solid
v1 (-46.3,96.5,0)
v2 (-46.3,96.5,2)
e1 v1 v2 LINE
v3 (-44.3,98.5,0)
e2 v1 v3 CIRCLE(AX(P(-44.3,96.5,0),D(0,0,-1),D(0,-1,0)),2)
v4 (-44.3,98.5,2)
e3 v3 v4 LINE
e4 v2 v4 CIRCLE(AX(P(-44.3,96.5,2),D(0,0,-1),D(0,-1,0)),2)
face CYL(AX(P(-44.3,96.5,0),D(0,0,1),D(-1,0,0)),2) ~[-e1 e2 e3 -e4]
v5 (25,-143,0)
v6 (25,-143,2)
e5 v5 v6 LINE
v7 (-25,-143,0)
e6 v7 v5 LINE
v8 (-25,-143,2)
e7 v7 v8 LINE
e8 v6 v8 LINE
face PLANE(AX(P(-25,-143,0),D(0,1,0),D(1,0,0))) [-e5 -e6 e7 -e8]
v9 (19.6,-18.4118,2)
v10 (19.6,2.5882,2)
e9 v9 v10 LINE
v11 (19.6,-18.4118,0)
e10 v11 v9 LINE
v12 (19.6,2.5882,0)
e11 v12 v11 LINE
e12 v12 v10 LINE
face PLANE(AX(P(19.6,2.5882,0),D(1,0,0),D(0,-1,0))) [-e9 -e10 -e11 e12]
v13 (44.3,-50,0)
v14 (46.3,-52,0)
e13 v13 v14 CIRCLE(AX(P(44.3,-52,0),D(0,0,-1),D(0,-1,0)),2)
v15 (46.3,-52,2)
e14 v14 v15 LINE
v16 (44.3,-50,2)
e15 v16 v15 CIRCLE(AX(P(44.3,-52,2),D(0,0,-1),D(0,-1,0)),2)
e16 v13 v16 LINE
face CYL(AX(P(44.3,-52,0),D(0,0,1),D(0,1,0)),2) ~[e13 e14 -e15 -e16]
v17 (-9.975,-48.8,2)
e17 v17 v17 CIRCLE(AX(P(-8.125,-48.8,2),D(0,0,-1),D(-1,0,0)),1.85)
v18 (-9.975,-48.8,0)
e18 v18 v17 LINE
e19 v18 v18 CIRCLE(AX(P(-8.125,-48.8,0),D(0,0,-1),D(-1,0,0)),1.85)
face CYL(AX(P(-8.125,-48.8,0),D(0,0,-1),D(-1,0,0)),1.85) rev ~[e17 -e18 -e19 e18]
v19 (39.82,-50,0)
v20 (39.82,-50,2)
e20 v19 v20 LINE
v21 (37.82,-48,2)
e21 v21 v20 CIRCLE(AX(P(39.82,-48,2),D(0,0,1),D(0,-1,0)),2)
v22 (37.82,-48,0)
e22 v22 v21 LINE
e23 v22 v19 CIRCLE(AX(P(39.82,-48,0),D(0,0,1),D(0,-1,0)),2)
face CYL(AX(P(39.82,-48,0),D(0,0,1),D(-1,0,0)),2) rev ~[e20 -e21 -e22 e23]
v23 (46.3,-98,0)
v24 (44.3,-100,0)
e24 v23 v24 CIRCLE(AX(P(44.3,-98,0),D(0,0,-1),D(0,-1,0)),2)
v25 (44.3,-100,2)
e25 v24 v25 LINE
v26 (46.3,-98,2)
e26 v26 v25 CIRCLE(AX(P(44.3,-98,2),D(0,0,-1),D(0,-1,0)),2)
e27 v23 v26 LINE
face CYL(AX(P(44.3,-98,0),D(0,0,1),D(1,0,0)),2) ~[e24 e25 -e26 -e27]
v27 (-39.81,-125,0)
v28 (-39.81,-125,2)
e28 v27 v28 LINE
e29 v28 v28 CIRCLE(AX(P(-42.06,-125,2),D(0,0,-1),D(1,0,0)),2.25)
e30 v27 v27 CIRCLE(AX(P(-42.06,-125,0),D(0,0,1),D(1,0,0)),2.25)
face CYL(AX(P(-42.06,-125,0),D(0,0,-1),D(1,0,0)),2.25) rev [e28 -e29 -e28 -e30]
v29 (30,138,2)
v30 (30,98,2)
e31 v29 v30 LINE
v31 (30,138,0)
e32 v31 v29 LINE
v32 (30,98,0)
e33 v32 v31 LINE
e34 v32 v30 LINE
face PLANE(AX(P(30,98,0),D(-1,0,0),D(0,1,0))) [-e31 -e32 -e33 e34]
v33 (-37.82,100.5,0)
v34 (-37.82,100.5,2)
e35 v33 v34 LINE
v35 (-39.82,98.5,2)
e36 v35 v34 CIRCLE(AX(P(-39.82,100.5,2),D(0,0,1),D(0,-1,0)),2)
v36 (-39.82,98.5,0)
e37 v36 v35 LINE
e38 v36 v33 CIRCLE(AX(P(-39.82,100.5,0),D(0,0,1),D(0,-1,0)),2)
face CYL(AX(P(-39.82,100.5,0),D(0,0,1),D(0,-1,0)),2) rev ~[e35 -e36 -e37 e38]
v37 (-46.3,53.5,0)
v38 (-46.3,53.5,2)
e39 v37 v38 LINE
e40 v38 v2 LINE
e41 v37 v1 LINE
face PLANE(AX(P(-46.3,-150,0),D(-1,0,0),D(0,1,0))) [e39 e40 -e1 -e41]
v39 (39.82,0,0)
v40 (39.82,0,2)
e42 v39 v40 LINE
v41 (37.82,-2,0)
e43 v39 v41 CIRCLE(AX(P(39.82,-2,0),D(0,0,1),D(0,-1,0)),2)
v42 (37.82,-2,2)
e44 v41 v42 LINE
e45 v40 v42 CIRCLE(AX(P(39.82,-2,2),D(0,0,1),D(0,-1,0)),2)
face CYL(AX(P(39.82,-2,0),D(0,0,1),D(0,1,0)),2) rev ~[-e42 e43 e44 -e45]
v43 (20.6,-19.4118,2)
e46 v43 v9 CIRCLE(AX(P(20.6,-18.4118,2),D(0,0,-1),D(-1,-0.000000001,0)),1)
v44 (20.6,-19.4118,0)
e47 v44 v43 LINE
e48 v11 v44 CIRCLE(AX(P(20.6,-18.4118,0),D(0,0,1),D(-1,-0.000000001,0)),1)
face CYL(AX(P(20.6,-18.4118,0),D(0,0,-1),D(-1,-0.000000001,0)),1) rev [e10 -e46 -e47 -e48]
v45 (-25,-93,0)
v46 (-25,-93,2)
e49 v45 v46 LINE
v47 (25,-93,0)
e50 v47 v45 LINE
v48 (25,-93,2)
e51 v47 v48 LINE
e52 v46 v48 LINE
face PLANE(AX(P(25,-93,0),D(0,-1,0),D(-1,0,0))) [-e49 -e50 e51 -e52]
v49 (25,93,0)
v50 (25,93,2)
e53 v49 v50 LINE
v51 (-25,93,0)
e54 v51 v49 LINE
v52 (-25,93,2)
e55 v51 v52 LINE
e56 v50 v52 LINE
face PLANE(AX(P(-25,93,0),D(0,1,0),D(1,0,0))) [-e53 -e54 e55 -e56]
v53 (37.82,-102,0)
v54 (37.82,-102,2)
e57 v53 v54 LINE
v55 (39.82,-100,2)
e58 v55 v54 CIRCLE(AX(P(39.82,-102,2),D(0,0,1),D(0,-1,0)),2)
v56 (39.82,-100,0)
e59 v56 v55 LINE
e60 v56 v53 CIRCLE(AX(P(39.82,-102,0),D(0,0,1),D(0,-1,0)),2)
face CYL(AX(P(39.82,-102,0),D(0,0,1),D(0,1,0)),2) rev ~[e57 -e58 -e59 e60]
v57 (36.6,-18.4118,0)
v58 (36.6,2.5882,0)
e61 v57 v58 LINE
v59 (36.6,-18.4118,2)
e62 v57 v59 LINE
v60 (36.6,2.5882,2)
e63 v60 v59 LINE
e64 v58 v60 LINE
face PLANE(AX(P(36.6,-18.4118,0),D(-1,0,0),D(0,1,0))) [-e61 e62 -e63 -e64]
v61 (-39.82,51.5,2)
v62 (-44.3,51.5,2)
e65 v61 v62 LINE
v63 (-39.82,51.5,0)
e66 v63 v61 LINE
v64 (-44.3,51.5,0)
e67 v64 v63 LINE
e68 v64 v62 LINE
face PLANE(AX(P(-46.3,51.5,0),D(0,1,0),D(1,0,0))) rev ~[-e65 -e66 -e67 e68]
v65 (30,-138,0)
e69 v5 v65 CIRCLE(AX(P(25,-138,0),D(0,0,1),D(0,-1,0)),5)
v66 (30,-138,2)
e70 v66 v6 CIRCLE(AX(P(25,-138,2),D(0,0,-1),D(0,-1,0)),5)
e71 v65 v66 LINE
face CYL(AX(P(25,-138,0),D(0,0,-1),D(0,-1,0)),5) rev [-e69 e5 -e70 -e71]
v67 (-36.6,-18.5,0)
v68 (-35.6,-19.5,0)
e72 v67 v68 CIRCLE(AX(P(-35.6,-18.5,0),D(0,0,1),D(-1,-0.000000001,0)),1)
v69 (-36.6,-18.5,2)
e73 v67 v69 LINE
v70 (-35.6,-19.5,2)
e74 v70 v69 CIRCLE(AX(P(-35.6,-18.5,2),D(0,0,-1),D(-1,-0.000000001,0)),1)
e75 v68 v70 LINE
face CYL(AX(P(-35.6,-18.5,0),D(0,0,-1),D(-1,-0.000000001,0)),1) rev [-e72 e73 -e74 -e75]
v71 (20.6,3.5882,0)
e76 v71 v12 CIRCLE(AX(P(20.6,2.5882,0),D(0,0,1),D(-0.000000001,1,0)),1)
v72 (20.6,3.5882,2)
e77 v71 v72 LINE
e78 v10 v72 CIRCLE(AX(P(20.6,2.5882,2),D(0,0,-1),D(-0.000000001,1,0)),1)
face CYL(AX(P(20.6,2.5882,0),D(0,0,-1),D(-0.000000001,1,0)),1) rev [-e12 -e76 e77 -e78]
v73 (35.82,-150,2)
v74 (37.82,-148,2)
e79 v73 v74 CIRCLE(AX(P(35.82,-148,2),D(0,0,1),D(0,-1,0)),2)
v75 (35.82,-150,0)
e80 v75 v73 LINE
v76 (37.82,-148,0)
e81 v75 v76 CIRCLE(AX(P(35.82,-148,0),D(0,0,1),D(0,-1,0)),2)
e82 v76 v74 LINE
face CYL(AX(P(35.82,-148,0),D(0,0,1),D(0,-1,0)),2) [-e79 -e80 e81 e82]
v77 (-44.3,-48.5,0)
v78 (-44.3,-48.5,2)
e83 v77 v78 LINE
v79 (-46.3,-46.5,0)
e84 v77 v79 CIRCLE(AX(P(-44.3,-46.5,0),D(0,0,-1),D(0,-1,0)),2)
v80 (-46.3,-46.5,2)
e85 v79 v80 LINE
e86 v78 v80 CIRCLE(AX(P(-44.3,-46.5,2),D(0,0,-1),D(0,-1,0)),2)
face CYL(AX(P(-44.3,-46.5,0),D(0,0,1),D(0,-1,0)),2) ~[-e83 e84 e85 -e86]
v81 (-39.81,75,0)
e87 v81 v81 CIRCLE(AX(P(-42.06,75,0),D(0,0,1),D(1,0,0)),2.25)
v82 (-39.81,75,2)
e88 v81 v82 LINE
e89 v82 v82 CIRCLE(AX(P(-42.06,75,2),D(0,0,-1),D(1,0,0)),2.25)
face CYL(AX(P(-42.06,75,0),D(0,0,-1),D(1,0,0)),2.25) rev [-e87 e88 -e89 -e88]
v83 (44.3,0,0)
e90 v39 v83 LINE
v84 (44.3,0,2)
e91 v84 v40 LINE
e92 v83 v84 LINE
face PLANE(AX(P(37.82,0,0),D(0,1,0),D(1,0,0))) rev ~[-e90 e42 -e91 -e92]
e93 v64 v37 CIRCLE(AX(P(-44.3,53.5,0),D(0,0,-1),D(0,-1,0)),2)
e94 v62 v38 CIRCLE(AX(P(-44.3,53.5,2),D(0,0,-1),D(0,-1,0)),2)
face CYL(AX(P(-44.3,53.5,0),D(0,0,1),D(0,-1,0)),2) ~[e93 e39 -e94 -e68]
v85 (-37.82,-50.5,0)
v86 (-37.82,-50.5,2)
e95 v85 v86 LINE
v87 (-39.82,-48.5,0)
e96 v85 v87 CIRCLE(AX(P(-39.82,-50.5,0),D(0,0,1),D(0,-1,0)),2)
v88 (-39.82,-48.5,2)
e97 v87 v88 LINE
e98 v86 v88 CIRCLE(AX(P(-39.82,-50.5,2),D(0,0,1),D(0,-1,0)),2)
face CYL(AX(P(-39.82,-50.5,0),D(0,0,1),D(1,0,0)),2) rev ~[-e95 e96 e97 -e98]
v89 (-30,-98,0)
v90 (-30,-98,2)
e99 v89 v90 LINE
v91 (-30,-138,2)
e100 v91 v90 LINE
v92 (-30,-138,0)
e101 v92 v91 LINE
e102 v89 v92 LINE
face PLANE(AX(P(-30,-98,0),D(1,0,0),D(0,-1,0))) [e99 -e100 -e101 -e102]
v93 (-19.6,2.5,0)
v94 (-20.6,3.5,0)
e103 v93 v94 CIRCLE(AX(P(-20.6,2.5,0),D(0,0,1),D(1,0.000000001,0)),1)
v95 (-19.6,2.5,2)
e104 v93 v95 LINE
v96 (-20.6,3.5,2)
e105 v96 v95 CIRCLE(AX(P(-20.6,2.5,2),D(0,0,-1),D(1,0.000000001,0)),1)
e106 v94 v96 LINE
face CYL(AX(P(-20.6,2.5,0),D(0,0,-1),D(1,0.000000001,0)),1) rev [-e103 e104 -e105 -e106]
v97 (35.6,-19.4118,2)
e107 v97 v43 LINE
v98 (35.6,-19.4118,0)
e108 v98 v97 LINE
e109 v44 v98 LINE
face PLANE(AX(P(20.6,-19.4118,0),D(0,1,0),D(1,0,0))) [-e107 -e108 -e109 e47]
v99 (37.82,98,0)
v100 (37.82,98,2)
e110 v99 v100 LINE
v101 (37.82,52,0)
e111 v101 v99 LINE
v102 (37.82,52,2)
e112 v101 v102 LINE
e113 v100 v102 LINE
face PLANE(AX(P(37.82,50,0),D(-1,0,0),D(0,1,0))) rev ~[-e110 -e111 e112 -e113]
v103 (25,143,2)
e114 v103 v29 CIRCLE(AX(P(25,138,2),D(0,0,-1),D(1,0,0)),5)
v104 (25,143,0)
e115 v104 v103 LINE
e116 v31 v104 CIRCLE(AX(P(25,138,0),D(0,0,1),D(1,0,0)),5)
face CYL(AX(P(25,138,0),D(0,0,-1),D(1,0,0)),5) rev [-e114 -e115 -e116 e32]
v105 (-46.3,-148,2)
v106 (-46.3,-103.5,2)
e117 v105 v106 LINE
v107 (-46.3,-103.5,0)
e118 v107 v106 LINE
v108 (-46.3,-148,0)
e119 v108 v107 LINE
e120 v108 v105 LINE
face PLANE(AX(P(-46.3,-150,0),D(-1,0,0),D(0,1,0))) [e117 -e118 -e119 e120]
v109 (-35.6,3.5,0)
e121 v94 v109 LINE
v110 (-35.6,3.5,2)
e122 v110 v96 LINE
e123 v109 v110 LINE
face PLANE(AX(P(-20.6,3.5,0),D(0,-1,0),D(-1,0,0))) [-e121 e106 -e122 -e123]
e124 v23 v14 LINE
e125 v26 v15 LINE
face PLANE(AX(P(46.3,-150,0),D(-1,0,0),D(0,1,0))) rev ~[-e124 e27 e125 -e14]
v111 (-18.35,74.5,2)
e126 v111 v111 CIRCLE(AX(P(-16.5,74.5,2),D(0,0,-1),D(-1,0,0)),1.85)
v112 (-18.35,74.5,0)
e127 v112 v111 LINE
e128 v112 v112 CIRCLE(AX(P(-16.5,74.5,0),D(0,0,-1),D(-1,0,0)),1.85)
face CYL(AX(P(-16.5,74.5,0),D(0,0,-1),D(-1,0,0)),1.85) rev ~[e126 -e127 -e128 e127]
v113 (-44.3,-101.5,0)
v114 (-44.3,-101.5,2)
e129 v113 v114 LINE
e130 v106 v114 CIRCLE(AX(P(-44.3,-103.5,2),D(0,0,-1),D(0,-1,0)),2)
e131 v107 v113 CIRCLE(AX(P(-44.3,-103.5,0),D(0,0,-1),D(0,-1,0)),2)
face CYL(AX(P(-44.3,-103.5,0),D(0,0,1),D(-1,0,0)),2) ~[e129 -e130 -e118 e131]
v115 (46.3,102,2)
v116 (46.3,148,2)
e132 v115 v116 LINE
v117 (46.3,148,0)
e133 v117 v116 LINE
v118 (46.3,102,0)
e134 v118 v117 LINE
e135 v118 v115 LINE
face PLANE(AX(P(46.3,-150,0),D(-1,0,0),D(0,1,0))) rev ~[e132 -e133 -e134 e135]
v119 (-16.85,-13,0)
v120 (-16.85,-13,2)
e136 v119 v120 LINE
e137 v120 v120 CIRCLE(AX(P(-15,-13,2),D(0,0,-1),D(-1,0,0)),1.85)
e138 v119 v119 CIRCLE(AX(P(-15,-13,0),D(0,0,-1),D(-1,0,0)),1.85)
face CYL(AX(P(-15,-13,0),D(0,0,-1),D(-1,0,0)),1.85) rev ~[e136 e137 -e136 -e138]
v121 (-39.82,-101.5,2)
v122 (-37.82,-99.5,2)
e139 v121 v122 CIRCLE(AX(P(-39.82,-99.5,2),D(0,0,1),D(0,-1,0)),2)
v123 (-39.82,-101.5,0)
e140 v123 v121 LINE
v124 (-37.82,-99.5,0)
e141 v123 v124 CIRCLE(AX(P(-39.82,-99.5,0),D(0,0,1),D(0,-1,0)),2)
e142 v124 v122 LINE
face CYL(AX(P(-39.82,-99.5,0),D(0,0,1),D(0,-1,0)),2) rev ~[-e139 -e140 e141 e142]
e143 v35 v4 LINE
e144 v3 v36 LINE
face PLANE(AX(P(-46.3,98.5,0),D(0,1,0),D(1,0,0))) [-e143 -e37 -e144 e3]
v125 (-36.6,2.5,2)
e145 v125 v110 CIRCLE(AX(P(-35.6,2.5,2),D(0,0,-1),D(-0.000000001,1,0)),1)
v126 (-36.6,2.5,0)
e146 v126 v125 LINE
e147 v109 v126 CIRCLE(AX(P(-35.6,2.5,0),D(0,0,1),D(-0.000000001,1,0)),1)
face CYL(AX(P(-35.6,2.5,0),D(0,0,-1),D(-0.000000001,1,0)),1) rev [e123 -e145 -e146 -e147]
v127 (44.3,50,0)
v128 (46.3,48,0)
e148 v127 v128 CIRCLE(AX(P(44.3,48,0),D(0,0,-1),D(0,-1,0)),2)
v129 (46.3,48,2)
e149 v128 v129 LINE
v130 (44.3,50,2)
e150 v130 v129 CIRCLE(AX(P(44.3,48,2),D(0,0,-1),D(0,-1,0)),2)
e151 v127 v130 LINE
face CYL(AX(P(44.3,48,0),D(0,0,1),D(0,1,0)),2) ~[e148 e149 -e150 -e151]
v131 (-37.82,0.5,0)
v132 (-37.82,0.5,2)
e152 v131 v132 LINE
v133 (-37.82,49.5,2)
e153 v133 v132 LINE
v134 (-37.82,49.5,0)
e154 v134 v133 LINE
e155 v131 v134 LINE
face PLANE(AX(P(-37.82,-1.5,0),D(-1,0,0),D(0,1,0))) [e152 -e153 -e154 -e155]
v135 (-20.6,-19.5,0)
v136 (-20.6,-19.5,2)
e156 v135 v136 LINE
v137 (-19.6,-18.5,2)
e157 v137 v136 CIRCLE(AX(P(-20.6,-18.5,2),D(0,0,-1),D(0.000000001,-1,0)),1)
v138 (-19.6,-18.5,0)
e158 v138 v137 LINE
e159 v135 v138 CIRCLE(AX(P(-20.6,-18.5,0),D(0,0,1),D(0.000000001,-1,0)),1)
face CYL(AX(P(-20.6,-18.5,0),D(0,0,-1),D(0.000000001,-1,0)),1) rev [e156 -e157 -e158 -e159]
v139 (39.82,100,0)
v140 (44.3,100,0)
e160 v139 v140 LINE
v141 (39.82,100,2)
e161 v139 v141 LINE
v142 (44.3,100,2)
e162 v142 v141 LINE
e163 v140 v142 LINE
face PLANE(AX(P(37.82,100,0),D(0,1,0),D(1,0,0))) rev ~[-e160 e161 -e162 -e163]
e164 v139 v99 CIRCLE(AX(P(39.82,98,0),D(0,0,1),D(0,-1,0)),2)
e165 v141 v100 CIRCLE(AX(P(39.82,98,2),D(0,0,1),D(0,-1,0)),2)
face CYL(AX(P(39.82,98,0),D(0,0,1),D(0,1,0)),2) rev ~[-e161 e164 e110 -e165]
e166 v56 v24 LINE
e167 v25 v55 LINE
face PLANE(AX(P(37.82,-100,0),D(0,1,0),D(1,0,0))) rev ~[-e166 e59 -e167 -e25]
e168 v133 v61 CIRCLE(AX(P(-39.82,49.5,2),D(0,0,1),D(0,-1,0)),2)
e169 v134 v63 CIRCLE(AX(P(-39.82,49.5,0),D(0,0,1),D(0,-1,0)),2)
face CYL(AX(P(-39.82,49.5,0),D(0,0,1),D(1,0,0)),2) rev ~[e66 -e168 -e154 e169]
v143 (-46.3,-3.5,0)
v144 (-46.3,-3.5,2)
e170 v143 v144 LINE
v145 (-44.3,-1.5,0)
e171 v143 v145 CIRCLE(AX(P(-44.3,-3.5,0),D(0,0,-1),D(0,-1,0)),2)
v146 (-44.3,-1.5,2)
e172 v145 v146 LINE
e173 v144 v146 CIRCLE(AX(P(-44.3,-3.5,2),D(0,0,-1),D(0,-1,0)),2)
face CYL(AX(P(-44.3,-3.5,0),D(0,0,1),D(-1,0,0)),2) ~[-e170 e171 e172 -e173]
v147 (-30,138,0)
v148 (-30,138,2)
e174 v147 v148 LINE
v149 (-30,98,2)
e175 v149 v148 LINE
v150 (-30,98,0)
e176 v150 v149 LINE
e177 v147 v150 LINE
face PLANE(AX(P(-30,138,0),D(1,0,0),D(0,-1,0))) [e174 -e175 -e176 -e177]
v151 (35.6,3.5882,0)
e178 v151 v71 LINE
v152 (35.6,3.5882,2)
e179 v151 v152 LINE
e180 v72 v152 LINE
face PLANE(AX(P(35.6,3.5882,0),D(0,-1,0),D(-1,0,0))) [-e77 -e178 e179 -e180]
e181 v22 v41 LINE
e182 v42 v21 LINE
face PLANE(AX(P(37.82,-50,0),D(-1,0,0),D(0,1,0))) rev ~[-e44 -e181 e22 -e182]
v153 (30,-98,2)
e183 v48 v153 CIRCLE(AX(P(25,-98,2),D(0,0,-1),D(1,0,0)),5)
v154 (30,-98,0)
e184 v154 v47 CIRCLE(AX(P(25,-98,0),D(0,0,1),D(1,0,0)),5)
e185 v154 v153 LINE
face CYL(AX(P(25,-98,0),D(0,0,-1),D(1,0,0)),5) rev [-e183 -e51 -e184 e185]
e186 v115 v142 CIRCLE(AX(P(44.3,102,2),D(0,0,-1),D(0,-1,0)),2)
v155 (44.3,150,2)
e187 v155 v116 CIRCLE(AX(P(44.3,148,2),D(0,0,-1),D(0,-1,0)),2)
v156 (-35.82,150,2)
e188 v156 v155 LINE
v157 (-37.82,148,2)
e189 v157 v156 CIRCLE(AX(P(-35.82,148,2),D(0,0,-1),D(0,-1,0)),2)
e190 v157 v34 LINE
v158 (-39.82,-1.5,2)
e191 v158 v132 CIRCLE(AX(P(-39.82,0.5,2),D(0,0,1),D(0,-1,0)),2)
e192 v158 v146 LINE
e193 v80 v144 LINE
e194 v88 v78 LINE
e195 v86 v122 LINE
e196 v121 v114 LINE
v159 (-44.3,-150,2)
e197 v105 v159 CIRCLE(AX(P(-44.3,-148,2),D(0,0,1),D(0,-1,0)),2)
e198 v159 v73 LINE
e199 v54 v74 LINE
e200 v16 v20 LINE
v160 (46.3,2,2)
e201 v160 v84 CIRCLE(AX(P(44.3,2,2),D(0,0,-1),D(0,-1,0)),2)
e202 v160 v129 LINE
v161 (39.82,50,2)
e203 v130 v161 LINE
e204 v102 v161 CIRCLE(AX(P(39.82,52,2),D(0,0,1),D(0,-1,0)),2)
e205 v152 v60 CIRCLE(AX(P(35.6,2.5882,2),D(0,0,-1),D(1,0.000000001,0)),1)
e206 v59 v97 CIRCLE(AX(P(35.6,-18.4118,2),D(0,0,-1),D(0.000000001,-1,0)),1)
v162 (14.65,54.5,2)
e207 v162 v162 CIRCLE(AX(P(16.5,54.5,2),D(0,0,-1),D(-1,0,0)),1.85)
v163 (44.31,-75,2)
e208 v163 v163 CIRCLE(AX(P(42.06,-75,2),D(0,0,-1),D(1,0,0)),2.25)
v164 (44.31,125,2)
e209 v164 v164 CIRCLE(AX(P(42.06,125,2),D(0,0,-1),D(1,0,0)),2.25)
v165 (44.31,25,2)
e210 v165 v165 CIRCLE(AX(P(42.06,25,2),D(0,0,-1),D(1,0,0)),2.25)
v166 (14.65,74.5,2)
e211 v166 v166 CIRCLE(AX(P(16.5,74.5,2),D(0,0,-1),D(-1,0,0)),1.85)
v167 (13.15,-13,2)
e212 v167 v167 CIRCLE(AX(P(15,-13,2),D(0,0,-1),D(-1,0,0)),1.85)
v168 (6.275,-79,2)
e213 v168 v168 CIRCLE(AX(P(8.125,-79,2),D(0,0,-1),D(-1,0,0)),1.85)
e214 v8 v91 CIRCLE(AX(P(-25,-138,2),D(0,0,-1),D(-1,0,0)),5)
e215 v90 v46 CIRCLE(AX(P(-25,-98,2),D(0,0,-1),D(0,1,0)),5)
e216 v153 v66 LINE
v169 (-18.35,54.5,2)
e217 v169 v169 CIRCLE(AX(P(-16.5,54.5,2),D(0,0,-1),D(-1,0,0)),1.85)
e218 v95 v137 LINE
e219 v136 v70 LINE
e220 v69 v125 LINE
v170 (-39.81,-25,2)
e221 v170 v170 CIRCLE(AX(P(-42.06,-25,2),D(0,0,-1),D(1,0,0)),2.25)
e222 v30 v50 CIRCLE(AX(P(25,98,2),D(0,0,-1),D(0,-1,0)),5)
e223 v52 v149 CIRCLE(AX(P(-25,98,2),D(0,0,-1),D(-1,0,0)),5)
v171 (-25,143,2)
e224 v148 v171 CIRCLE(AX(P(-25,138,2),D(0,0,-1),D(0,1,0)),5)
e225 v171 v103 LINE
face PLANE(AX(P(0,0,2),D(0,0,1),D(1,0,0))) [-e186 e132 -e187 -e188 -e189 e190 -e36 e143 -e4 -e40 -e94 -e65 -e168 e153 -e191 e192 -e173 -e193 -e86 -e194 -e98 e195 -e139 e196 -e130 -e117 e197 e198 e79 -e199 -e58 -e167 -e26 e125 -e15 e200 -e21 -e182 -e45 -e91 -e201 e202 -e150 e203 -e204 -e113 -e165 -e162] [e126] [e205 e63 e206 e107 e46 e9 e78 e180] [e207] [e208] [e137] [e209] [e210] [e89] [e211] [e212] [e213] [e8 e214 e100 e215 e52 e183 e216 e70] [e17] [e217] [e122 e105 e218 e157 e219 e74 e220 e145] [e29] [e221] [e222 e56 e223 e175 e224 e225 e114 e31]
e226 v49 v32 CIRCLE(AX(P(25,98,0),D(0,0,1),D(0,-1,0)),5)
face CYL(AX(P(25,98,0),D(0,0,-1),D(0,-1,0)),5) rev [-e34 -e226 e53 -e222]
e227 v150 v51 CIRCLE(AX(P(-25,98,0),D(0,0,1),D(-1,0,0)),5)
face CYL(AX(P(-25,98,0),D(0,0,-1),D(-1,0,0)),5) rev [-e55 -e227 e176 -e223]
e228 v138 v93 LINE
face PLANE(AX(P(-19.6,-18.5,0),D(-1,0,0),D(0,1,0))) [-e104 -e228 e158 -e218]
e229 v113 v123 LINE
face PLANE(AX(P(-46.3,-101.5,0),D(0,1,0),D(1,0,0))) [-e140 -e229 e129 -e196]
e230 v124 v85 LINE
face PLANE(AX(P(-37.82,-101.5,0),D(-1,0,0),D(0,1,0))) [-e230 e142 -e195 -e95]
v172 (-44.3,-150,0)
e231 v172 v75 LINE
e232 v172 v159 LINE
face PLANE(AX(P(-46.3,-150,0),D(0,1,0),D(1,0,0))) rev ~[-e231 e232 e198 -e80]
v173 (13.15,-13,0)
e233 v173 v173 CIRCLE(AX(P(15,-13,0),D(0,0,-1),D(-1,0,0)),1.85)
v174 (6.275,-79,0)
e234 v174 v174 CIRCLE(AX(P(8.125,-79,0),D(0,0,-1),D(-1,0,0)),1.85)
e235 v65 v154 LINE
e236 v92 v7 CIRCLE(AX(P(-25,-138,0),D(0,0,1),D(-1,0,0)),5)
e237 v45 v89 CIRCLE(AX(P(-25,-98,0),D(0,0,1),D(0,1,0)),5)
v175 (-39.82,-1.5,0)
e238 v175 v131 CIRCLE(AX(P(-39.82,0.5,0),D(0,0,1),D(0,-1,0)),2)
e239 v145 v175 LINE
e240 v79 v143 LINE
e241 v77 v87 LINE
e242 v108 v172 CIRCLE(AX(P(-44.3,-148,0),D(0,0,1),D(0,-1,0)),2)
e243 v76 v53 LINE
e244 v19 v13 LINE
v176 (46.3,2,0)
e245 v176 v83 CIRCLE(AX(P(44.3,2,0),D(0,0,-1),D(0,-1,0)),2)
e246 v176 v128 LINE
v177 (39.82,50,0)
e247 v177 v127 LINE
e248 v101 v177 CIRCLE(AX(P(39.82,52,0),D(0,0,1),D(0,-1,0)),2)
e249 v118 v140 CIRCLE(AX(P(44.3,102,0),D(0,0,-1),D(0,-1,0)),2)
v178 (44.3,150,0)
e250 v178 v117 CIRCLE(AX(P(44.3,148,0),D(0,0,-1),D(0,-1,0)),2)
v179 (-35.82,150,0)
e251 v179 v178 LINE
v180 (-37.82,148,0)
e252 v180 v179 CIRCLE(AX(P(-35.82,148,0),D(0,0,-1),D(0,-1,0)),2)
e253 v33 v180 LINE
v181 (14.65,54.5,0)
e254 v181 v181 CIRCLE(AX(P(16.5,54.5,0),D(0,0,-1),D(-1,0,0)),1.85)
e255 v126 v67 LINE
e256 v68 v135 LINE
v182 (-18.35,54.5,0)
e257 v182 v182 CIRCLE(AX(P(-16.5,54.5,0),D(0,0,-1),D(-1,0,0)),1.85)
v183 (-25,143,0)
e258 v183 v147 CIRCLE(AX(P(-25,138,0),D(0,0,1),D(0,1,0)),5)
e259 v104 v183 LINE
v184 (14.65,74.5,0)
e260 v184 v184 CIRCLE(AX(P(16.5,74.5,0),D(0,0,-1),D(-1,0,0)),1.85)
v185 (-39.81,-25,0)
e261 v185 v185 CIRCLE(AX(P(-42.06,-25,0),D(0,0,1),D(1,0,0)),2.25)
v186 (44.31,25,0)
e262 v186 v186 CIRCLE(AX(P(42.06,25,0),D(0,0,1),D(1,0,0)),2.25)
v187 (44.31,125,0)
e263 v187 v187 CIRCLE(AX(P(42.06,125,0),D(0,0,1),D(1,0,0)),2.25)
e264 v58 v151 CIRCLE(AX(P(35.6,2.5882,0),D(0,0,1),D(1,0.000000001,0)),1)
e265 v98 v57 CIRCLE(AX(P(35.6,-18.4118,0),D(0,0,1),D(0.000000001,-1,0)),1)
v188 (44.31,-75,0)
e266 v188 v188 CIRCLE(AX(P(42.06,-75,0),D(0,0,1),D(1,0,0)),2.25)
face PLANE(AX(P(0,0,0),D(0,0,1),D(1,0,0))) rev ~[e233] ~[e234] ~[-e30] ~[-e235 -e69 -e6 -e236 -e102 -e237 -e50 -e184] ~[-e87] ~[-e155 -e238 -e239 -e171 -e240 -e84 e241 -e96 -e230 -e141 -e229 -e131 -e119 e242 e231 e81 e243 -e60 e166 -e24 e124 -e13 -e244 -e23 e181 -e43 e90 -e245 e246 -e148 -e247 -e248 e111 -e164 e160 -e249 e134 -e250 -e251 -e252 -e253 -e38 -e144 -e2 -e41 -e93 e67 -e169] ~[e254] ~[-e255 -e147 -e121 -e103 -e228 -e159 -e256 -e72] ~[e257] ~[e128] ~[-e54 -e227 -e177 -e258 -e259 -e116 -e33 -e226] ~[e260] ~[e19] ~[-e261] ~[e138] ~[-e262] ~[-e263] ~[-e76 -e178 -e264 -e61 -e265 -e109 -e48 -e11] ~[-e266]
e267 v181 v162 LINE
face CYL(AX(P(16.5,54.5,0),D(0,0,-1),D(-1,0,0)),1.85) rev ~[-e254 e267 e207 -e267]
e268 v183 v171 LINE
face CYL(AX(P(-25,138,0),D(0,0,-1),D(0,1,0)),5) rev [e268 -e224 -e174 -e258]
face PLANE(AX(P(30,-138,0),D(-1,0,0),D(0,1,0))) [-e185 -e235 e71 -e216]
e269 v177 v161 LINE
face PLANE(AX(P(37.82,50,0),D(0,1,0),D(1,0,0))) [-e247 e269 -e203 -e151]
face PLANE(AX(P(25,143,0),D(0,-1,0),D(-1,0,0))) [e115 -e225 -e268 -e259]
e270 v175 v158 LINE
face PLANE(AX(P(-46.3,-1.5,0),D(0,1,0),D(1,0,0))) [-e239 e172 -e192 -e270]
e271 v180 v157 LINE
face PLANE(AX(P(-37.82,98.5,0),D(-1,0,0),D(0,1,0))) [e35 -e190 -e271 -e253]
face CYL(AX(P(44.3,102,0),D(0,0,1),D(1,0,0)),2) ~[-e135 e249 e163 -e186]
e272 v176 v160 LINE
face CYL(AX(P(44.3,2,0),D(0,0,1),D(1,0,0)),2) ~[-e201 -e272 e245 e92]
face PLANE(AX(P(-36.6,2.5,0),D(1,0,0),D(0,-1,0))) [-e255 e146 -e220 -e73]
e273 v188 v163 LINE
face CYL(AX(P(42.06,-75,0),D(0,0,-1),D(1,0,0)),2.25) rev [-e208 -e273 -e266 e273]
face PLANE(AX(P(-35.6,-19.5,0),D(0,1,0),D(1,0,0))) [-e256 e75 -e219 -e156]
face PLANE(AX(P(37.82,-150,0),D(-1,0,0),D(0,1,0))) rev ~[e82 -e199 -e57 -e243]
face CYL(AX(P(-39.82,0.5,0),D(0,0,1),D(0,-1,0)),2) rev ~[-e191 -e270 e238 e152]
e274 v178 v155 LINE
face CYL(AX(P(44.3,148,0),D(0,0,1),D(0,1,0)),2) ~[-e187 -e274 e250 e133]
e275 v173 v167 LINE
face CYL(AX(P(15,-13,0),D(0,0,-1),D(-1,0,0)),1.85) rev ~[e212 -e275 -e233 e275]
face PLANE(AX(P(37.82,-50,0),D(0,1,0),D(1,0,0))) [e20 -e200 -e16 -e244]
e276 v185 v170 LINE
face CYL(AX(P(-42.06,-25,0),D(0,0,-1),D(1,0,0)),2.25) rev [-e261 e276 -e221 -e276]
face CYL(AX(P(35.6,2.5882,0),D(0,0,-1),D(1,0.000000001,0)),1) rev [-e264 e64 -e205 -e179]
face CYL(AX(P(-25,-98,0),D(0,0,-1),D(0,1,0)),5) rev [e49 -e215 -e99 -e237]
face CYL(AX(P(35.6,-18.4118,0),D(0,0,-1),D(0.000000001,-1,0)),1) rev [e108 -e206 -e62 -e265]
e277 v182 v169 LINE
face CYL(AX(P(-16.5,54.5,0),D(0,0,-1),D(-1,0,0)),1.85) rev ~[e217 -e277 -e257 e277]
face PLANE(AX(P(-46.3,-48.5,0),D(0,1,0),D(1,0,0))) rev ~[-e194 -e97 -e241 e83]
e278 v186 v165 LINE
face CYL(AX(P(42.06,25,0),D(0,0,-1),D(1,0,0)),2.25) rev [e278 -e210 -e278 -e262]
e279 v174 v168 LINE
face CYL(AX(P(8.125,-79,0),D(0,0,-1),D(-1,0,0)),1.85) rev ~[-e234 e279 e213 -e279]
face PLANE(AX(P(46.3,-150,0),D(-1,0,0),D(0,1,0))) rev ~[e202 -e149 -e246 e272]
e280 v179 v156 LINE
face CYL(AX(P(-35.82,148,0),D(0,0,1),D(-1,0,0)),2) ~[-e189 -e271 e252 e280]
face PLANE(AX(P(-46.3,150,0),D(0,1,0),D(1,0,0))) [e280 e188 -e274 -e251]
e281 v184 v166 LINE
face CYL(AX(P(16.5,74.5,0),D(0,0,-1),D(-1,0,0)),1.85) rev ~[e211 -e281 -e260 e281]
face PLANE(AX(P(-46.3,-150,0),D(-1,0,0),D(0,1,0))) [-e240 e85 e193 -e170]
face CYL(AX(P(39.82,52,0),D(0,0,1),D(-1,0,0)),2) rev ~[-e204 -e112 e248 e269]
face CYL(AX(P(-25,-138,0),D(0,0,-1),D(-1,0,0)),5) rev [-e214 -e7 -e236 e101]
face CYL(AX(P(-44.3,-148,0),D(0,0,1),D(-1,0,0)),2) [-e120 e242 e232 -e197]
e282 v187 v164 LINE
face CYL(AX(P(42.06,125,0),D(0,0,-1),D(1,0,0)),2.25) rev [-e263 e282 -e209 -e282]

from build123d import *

# Parameters (mm, degrees)
SKETCH1_W           = 92.6
SKETCH1_H           = 300
BOSS_EXTRUDE1_DEPTH = 2
SKETCH3_R           = 2.25
SKETCH3_W           = 8.48
SKETCH3_H           = 51.5
SKETCH3_H_2         = 50
SKETCH3_H_3         = 53
CUT_EXTRUDE2_DEPTH  = 10
FILLET1_R           = 2
SKETCH4_R           = 1.85
CUT_EXTRUDE3_DEPTH  = 5
SKETCH5_R           = 1.85
CUT_EXTRUDE4_DEPTH  = 10
SKETCH6_R           = 1.85
CUT_EXTRUDE5_DEPTH  = 8.5
CUT_EXTRUDE6_DEPTH  = 8.5


with BuildPart() as part:
    # Sketch1 → Boss-Extrude1 (new body)
    with BuildSketch(Plane.XY):
        Rectangle(SKETCH1_W, SKETCH1_H)
    extrude(amount=BOSS_EXTRUDE1_DEPTH)

    # Sketch3 → Cut-Extrude2 (cut)
    with BuildSketch(Plane.XY):
        with Locations((-42.06, 75)):
            Circle(SKETCH3_R)
        with Locations((42.06, 125)):
            Circle(SKETCH3_R)
        with Locations((42.06, 25)):
            Circle(SKETCH3_R)
        with Locations((42.06, -75)):
            Circle(SKETCH3_R)
        with Locations((-42.06, -25)):
            Circle(SKETCH3_R)
        with Locations((-42.06, -125)):
            Circle(SKETCH3_R)
        with Locations((-42.06, 124.25)):
            Rectangle(SKETCH3_W, SKETCH3_H)
        with Locations((42.06, 75)):
            Rectangle(SKETCH3_W, SKETCH3_H_2)
        with Locations((42.06, -25)):
            Rectangle(SKETCH3_W, SKETCH3_H_2)
        with Locations((-42.06, 25)):
            Rectangle(SKETCH3_W, SKETCH3_H_3)
        with Locations((-42.06, -75)):
            Rectangle(SKETCH3_W, SKETCH3_H_3)
        with Locations((42.06, -125)):
            Rectangle(SKETCH3_W, SKETCH3_H_2)
    extrude(amount=CUT_EXTRUDE2_DEPTH, mode=Mode.SUBTRACT)

    # Fillet1
    fillet1_edges = [part.edges().sort_by_distance(p)[0] for p in [
        (46.3, -100, 1),
        (37.82, -100, 1),
        (37.82, -150, 1),
        (46.3, 50, 1),
        (46.3, 100, 1),
        (37.82, 100, 1),
        (37.82, 50, 1),
        (-46.3, -48.5, 1),
        (-46.3, -101.5, 1),
        (-37.82, -101.5, 1),
        (-37.82, -48.5, 1),
        (37.82, 0, 1),
        (37.82, -50, 1),
        (46.3, -50, 1),
        (46.3, 0, 1),
        (46.3, 150, 1),
        (-46.3, -150, 1),
        (-46.3, 51.5, 1),
        (-46.3, -1.5, 1),
        (-37.82, -1.5, 1),
        (-37.82, 51.5, 1),
        (-46.3, 98.5, 1),
        (-37.82, 98.5, 1),
        (-37.82, 150, 1),
    ]]
    fillet(fillet1_edges, radius=FILLET1_R)

    # Sketch4 → Cut-Extrude3 (cut)
    with BuildSketch(Plane(origin=(0, 0, 0), x_dir=(-1, 0, 0), z_dir=(0, 0, -1))):
        with Locations((-8.125, -79)):
            Circle(SKETCH4_R)
        with Locations((8.125, -48.8)):
            Circle(SKETCH4_R)
    extrude(amount=-CUT_EXTRUDE3_DEPTH, mode=Mode.SUBTRACT)

    # Sketch5 → Cut-Extrude4 (cut)
    with BuildSketch(Plane(origin=(0, 0, 0), x_dir=(-1, 0, 0), z_dir=(0, 0, -1))):
        with Locations((-15, -13)):
            Circle(SKETCH5_R)
        with Locations((15, -13)):
            Circle(SKETCH5_R)
        with BuildLine():
            Line((20.6, 3.5), (35.6, 3.5))
            ThreePointArc((35.6, 3.5), (36.307106781, 3.207106781), (36.6, 2.5))
            Line((36.6, 2.5), (36.6, -18.5))
            ThreePointArc((36.6, -18.5), (36.307106781, -19.207106781), (35.6, -19.5))
            Line((35.6, -19.5), (20.6, -19.5))
            ThreePointArc((20.6, -19.5), (19.892893219, -19.207106781), (19.6, -18.5))
            Line((19.6, -18.5), (19.6, 2.5))
            ThreePointArc((19.6, 2.5), (19.892893219, 3.207106781), (20.6, 3.5))
        make_face()
        with BuildLine():
            Line((-35.6, 3.588199514), (-20.6, 3.588199514))
            ThreePointArc((-20.6, 3.588199514), (-19.892893219, 3.295306295), (-19.6, 2.588199514))
            Line((-19.6, 2.588199514), (-19.6, -18.411800486))
            ThreePointArc((-19.6, -18.411800486), (-19.892893219, -19.118907267), (-20.6, -19.411800486))
            Line((-20.6, -19.411800486), (-35.6, -19.411800486))
            ThreePointArc((-35.6, -19.411800486), (-36.307106781, -19.118907267), (-36.6, -18.411800486))
            Line((-36.6, -18.411800486), (-36.6, 2.588199514))
            ThreePointArc((-36.6, 2.588199514), (-36.307106781, 3.295306295), (-35.6, 3.588199514))
        make_face()
    extrude(amount=-CUT_EXTRUDE4_DEPTH, mode=Mode.SUBTRACT)

    # Sketch6 → Cut-Extrude5 (cut)
    with BuildSketch(Plane(origin=(0, 0, 0), x_dir=(-1, 0, 0), z_dir=(0, 0, -1))):
        with Locations((-16.5, 74.5)):
            Circle(SKETCH6_R)
        with Locations((16.5, 74.5)):
            Circle(SKETCH6_R)
        with Locations((16.5, 54.5)):
            Circle(SKETCH6_R)
        with Locations((-16.5, 54.5)):
            Circle(SKETCH6_R)
    extrude(amount=-CUT_EXTRUDE5_DEPTH, mode=Mode.SUBTRACT)

    # Sketch7 → Cut-Extrude6 (cut)
    with BuildSketch(Plane(origin=(0, 0, 0), x_dir=(-1, 0, 0), z_dir=(0, 0, -1))):
        with BuildLine():
            Line((25, 93), (-25, 93))
            ThreePointArc((-25, 93), (-28.535533906, 94.464466094), (-30, 98))
            Line((-30, 98), (-30, 138))
            ThreePointArc((-30, 138), (-28.535533906, 141.535533906), (-25, 143))
            Line((-25, 143), (25, 143))
            ThreePointArc((25, 143), (28.535533906, 141.535533906), (30, 138))
            Line((30, 138), (30, 98))
            ThreePointArc((30, 98), (28.535533906, 94.464466094), (25, 93))
        make_face()
        with BuildLine():
            Line((25, -143), (-25, -143))
            ThreePointArc((-25, -143), (-28.535533906, -141.535533906), (-30, -138))
            Line((-30, -138), (-30, -98))
            ThreePointArc((-30, -98), (-28.535533906, -94.464466094), (-25, -93))
            Line((-25, -93), (25, -93))
            ThreePointArc((25, -93), (28.535533906, -94.464466094), (30, -98))
            Line((30, -98), (30, -138))
            ThreePointArc((30, -138), (28.535533906, -141.535533906), (25, -143))
        make_face()
    extrude(amount=-CUT_EXTRUDE6_DEPTH, mode=Mode.SUBTRACT)


solid = part.part
